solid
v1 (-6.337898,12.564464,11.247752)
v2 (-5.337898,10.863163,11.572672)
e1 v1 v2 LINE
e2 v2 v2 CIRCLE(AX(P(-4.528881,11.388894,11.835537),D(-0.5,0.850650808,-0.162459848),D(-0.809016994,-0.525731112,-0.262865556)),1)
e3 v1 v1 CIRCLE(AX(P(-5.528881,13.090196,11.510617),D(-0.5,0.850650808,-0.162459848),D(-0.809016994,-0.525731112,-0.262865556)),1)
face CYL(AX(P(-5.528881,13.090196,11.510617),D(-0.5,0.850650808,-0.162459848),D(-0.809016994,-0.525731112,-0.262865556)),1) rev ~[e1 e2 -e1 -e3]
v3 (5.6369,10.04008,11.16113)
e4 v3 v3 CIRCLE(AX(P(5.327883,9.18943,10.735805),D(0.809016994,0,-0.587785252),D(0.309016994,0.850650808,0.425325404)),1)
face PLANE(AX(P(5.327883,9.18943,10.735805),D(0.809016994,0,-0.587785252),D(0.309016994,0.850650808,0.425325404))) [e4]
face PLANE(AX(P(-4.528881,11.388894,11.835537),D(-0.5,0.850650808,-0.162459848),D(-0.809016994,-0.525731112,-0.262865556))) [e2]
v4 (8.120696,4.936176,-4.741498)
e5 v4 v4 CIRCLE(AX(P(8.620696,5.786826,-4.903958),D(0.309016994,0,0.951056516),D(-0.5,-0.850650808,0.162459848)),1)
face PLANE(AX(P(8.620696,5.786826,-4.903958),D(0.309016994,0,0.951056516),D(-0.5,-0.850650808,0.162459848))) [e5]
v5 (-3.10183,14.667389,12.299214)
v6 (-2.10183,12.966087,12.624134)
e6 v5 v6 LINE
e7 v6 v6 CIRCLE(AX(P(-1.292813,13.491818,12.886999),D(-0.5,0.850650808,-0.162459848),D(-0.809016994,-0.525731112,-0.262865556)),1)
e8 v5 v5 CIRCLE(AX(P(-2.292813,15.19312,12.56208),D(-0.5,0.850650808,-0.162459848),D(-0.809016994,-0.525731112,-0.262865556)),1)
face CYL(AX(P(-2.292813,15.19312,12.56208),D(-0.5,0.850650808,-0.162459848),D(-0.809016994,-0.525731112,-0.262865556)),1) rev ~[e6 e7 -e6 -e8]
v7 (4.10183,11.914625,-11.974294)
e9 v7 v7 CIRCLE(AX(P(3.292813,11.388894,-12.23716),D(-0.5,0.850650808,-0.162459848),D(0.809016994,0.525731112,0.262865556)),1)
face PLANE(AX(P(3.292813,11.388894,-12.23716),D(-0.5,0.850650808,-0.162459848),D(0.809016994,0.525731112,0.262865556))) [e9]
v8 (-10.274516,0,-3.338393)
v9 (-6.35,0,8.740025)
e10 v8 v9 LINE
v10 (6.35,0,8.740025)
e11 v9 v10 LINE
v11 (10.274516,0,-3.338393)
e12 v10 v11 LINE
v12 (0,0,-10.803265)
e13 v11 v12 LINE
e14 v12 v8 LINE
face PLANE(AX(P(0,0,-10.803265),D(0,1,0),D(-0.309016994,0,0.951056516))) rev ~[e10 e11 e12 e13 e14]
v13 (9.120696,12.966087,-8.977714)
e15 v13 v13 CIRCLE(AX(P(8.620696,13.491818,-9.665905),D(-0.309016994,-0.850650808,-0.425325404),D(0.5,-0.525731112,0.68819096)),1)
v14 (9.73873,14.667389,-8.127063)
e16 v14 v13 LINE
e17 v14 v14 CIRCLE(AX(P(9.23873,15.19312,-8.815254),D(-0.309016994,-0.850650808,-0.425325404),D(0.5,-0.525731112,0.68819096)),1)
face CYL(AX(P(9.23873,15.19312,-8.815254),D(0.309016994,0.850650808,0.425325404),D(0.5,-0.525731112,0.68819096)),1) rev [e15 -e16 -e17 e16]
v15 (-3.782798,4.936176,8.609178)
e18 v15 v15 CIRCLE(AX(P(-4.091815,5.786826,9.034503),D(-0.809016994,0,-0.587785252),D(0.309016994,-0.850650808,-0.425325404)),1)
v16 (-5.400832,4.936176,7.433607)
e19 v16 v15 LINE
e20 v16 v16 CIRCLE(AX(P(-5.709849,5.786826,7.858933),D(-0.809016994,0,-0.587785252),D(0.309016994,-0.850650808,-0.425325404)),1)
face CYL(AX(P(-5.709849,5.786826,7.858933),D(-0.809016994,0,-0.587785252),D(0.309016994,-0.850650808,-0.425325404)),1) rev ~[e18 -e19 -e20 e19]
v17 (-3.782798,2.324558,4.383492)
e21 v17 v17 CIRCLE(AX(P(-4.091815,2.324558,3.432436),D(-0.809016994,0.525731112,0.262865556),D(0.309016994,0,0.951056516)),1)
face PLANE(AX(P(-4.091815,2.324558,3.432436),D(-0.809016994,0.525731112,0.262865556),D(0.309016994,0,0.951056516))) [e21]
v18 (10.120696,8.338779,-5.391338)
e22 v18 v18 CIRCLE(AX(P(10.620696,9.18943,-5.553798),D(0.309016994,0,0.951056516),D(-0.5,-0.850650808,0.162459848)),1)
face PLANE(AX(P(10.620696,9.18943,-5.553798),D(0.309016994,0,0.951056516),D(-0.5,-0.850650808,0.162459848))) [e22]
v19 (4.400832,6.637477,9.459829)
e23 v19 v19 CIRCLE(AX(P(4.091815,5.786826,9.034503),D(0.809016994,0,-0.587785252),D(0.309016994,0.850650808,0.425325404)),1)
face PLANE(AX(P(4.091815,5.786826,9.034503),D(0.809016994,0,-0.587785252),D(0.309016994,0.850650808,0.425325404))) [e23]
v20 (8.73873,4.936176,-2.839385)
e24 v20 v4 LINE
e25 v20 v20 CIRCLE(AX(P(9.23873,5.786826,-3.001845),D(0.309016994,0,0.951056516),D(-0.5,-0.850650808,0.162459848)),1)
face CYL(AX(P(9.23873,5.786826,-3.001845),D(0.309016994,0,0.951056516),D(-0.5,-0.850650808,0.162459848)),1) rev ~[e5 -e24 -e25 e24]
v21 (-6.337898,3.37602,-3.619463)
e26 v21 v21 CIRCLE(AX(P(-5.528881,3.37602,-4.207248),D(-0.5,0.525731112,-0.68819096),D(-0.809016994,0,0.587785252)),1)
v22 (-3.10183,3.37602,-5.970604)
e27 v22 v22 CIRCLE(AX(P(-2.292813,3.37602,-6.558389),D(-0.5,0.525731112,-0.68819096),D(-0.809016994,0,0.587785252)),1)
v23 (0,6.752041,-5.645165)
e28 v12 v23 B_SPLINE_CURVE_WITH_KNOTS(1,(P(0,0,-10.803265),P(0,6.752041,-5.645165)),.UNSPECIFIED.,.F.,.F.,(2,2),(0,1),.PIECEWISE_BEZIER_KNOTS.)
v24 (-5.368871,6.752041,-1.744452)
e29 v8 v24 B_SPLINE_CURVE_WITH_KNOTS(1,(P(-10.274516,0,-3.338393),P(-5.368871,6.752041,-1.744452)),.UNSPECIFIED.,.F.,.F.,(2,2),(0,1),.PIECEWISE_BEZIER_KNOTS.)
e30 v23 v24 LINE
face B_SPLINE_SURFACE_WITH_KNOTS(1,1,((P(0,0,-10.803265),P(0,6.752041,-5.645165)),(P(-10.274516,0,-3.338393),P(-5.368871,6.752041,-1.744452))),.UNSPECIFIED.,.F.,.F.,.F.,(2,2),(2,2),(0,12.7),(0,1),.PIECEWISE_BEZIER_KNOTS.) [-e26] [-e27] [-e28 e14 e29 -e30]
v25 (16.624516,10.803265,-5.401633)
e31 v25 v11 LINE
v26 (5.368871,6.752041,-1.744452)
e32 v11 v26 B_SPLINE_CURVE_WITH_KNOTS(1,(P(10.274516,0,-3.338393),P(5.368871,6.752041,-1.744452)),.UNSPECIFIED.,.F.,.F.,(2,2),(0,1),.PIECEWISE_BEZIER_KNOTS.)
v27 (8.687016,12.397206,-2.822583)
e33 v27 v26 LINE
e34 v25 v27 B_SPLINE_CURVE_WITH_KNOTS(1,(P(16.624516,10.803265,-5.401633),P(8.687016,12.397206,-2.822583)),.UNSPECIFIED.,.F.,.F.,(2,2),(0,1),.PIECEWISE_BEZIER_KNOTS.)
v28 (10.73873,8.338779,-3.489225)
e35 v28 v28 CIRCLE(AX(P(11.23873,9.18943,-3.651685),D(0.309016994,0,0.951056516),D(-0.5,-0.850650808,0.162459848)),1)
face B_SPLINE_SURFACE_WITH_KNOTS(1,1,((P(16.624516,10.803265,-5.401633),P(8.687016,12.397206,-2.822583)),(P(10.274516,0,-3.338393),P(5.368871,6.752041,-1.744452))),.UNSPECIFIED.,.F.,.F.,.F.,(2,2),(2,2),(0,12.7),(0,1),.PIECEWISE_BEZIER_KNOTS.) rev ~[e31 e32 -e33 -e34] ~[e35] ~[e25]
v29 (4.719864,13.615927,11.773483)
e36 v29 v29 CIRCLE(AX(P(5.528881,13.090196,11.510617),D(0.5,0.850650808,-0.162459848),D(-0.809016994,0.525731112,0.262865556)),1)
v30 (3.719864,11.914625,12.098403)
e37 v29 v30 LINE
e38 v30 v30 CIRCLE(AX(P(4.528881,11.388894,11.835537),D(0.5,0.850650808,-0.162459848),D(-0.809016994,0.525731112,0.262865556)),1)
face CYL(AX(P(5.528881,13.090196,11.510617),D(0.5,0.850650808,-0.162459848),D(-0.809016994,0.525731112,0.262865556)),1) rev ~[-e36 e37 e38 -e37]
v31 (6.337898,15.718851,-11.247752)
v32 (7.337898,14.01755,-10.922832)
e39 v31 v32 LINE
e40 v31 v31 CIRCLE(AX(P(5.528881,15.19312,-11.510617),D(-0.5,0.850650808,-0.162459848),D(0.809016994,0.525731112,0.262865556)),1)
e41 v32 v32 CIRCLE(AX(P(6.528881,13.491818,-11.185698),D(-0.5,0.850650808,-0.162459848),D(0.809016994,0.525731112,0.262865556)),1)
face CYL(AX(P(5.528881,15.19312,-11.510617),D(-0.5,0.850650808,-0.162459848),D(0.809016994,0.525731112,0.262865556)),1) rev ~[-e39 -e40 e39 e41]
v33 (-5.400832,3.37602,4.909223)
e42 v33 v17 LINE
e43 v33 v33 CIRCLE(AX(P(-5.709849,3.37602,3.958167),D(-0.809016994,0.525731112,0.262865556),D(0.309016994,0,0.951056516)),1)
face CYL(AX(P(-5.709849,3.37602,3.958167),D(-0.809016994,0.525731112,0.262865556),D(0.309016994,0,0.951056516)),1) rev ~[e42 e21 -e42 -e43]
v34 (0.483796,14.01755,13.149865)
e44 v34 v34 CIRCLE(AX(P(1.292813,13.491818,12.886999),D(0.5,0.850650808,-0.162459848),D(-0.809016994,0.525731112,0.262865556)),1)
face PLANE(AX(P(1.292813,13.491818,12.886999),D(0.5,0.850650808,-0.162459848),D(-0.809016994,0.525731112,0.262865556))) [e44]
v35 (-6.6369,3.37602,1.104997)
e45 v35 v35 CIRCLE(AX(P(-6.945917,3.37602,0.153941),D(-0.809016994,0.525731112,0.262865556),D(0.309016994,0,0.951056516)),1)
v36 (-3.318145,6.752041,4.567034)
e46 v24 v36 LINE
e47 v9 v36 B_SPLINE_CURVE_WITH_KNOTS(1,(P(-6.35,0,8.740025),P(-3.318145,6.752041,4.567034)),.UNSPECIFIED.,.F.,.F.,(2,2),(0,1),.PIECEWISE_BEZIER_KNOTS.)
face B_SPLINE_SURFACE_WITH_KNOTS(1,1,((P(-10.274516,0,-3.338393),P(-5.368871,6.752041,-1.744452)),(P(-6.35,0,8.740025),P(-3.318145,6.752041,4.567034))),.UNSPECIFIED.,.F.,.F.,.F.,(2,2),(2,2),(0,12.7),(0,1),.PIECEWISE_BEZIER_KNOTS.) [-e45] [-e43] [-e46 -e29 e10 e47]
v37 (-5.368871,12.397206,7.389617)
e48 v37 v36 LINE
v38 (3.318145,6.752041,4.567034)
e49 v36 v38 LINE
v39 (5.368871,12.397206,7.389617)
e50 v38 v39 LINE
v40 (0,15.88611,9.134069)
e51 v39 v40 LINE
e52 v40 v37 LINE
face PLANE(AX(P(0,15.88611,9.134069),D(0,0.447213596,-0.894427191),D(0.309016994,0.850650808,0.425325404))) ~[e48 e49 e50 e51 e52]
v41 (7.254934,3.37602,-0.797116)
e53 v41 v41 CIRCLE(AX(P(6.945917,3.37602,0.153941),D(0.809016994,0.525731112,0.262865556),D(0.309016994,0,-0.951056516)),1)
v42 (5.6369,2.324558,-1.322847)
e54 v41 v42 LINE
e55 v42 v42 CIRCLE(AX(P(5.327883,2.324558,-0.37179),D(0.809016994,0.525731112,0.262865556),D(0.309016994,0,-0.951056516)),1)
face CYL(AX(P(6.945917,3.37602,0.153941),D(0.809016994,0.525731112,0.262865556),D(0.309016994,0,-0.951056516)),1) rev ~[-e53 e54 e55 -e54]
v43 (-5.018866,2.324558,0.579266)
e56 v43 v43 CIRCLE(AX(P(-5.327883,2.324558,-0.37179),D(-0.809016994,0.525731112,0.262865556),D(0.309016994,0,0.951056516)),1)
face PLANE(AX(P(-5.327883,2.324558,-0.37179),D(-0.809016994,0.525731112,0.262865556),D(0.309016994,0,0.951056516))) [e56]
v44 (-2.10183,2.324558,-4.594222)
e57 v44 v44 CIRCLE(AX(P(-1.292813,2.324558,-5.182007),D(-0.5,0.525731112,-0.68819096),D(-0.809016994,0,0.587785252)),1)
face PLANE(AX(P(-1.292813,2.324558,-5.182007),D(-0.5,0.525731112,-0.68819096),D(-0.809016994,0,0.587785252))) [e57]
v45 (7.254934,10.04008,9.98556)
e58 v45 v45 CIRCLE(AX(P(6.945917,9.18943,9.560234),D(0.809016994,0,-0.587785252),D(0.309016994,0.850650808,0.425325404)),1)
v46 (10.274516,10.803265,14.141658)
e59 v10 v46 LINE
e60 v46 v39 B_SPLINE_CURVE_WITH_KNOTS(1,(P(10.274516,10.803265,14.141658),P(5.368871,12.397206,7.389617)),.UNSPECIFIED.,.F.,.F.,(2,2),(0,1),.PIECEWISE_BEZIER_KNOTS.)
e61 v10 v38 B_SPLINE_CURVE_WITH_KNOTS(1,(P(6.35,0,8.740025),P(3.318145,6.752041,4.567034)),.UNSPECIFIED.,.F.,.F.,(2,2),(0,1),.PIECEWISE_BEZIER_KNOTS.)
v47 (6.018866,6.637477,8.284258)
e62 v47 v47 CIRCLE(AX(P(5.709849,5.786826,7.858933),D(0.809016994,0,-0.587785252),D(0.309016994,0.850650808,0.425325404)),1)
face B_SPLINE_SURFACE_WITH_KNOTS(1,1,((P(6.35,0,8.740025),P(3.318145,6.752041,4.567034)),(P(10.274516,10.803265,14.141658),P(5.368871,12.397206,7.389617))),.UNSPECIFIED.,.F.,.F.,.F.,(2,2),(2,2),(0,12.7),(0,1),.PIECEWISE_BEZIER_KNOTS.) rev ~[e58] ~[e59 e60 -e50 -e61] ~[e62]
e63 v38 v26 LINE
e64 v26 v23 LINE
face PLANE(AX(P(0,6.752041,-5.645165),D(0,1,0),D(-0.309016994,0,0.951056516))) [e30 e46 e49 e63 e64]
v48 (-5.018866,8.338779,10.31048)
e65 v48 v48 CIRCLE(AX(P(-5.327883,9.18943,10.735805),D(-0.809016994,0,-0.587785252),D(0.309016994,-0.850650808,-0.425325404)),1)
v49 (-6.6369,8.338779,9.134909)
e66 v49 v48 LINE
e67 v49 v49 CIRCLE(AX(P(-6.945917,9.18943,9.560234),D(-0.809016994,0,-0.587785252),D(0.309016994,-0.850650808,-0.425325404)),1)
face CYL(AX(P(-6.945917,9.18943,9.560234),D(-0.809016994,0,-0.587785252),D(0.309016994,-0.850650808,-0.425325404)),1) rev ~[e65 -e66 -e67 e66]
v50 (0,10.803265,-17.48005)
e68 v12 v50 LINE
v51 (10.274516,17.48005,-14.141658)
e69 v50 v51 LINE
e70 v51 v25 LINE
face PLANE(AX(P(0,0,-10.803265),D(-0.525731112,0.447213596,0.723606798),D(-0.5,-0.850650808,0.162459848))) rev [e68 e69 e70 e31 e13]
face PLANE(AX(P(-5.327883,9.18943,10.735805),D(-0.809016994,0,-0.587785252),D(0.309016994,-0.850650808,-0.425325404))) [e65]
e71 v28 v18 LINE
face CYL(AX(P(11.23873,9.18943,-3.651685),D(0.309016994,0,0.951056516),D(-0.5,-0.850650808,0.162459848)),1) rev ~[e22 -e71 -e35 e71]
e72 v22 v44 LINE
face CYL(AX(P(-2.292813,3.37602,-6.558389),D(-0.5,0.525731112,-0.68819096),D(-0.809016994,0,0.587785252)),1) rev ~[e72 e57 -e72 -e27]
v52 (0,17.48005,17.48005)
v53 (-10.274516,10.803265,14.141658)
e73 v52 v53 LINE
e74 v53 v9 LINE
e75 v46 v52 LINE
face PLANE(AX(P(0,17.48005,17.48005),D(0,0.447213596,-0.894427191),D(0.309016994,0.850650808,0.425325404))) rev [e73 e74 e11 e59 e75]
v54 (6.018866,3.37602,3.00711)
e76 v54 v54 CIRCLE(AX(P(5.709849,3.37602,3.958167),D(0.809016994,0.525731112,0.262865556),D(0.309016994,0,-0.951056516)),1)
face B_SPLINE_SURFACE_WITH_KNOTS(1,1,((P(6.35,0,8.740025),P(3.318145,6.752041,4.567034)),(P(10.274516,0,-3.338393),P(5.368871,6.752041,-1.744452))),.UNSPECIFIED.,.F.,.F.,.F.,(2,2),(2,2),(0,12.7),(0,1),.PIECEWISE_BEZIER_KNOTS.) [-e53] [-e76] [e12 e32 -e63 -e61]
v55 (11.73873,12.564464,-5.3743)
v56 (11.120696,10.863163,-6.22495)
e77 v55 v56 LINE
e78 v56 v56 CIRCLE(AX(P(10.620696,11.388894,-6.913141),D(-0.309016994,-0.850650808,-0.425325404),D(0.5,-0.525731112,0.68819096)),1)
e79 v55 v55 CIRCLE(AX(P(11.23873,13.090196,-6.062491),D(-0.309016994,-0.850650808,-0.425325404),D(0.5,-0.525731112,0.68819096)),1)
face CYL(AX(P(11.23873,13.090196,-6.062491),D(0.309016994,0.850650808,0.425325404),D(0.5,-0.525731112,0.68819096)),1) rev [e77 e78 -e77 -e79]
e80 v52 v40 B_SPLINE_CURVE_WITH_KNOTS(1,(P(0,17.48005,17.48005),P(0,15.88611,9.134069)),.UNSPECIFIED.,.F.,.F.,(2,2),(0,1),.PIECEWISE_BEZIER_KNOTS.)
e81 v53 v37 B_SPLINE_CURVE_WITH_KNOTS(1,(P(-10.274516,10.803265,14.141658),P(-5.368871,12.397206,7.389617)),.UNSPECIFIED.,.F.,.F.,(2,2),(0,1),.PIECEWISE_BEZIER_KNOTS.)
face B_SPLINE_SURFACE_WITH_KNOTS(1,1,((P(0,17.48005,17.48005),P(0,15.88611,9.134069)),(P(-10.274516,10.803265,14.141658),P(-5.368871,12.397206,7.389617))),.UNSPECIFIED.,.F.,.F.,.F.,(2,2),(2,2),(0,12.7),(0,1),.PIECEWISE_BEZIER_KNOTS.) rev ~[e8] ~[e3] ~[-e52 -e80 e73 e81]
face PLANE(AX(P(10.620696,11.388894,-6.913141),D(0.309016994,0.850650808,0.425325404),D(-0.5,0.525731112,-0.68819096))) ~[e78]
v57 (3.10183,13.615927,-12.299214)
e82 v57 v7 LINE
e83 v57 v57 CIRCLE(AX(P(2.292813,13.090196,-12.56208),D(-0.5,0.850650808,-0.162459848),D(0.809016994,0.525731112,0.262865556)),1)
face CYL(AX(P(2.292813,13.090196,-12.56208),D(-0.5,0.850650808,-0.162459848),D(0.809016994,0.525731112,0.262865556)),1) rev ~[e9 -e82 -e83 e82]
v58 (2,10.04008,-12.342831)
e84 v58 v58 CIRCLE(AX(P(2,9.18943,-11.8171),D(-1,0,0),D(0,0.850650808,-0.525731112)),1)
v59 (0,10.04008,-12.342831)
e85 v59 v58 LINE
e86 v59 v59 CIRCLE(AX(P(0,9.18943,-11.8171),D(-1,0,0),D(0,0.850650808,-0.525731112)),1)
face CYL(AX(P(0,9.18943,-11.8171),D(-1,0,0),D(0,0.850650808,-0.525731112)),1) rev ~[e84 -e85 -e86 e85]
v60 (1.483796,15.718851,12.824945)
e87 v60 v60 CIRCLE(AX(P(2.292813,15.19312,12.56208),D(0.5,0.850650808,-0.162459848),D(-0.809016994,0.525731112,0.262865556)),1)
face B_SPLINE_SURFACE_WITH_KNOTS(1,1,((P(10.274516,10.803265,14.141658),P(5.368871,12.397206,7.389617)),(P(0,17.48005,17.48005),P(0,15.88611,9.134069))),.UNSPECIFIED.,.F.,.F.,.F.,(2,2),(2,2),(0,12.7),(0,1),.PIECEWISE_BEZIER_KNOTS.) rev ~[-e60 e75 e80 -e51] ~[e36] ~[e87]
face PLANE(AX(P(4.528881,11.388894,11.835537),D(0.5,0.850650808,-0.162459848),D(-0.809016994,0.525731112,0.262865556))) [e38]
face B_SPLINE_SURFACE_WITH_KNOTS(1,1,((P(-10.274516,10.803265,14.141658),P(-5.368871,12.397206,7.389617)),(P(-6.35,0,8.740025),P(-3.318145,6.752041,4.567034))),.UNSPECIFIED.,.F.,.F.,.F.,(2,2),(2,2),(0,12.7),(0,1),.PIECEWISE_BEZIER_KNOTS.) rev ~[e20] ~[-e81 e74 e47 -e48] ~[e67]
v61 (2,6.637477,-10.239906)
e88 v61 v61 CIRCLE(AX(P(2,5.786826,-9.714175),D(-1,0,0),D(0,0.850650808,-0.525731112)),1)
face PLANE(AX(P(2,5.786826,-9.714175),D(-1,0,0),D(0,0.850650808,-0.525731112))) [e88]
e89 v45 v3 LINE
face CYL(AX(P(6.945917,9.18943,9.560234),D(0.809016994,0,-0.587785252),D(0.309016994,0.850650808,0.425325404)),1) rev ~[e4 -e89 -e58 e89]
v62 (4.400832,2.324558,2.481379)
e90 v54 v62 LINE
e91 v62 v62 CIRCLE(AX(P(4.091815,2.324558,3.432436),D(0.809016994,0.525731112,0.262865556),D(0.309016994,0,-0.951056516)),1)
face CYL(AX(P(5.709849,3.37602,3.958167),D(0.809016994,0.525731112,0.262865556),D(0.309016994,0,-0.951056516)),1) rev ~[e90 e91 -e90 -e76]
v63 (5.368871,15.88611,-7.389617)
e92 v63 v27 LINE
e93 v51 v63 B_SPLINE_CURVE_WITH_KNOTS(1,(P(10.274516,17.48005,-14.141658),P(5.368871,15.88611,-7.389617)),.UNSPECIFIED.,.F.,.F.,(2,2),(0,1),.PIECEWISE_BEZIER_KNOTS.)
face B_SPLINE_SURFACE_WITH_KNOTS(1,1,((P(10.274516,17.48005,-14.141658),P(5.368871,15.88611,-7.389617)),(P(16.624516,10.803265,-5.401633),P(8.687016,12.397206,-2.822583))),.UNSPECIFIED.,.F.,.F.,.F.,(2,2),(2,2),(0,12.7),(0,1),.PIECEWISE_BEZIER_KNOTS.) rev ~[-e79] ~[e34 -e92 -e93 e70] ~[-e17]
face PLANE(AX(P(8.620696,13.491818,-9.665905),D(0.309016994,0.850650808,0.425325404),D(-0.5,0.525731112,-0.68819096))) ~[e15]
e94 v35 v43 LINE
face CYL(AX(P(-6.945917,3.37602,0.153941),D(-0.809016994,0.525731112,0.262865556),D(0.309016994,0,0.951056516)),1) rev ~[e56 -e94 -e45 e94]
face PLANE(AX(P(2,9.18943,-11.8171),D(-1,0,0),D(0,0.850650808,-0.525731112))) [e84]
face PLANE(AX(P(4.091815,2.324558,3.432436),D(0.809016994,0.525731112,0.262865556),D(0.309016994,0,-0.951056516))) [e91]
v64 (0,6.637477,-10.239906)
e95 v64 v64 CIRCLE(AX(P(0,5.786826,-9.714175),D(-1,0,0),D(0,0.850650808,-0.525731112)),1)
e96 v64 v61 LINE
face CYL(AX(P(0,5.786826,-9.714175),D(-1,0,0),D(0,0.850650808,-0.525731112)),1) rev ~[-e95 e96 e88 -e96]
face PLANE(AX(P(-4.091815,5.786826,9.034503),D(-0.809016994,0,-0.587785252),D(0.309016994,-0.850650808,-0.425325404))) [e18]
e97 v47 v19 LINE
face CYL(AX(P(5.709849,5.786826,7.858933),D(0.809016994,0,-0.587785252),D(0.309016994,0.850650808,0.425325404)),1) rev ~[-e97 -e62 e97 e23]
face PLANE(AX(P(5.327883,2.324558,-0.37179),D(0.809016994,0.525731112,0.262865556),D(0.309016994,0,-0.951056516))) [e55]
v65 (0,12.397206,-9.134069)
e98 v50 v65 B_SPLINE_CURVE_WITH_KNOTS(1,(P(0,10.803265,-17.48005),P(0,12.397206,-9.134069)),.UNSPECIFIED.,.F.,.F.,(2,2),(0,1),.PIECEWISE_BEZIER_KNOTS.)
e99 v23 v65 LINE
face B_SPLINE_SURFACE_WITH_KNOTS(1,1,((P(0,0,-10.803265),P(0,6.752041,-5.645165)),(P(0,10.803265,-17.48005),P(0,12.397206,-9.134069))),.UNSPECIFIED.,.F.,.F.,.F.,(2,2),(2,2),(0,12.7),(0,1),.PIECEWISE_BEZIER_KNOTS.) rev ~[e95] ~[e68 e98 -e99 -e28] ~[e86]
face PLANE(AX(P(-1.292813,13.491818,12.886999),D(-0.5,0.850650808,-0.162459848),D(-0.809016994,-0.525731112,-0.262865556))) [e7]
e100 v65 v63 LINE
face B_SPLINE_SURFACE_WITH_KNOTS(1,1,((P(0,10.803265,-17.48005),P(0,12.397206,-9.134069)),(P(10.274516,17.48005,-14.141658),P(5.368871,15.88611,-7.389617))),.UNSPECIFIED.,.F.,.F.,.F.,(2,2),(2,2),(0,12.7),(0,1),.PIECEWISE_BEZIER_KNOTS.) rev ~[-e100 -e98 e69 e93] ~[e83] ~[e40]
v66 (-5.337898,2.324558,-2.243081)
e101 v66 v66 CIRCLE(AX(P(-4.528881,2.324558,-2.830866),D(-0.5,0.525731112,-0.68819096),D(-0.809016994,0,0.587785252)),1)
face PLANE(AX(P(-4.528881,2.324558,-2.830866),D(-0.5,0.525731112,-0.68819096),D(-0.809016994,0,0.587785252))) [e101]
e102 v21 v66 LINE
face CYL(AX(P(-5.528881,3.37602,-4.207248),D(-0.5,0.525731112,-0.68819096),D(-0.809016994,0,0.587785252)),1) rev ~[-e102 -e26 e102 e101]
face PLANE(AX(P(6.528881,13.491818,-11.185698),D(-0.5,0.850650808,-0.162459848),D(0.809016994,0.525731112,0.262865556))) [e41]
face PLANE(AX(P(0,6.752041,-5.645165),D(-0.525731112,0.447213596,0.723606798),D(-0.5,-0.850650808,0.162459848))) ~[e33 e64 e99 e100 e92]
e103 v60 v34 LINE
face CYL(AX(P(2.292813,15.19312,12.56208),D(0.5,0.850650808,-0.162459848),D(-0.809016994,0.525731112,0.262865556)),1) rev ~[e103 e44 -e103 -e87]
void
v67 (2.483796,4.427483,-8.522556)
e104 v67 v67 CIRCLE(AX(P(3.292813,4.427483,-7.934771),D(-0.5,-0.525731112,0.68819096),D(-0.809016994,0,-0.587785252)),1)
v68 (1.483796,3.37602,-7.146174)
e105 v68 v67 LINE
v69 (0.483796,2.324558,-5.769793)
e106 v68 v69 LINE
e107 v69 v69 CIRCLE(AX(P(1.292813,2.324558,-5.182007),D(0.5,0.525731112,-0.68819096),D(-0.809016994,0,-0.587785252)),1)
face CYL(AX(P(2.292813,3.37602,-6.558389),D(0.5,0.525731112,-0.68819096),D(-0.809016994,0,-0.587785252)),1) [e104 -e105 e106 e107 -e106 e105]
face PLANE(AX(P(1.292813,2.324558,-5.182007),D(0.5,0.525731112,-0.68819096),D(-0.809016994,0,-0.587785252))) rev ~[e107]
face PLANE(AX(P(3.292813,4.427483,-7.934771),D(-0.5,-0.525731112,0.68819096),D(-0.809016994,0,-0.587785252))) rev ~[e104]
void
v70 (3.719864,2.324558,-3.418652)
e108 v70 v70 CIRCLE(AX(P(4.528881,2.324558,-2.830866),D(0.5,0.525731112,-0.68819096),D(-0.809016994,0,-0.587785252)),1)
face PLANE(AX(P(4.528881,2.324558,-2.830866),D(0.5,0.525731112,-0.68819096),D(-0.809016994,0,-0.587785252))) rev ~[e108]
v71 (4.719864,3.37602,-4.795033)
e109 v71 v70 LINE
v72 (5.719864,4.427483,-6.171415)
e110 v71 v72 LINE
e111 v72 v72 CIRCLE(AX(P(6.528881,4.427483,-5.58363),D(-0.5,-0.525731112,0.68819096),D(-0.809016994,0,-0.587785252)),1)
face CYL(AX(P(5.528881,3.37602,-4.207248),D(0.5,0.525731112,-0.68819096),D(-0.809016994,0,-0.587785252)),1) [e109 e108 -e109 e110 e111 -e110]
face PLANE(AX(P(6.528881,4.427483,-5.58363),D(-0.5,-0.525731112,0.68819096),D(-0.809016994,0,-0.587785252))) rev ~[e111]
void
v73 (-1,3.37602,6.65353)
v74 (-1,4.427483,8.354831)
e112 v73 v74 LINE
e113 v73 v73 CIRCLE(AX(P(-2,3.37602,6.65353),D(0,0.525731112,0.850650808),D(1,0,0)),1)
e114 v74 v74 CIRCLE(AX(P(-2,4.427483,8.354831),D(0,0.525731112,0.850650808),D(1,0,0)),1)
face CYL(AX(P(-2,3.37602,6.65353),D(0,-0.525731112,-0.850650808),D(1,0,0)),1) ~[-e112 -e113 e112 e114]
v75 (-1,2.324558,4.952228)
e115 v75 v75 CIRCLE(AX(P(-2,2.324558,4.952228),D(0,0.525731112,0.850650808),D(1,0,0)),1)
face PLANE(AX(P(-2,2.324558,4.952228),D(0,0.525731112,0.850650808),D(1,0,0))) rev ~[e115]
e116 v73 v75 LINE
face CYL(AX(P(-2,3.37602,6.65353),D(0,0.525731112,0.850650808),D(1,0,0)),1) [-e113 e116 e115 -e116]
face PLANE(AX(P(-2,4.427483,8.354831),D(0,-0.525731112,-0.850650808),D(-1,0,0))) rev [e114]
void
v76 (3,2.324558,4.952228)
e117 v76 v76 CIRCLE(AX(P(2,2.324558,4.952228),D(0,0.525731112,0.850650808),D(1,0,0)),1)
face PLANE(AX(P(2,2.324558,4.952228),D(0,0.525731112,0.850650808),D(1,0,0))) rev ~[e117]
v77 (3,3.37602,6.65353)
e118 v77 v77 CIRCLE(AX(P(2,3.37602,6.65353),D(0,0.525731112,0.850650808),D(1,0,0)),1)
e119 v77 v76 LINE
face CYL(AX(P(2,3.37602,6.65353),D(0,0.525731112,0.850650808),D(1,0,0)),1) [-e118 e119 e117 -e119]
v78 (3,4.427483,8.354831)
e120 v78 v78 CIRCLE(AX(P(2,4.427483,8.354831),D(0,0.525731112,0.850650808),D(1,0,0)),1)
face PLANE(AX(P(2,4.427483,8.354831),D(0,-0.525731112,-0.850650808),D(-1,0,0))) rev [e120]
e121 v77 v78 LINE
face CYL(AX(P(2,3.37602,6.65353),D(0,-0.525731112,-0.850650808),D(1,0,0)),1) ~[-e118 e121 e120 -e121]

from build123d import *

# Parameters (mm, degrees)
BOSS_EXTRUDE1_DEPTH     = 6.752040791
BOSS_EXTRUDE1_TAPER     = 31.717474411
SKETCH3_R               = 1
CUT_EXTRUDE1_DEPTH      = 2
CIRPATTERN1_COUNT       = 5
MIRROR3_COPY_1_SKETCH_R = 1
MIRROR3_COPY_1_DEPTH    = 2
MIRROR3_COPY_2_SKETCH_R = 1
MIRROR3_COPY_2_DEPTH    = 2
MIRROR3_COPY_3_SKETCH_R = 1
MIRROR3_COPY_3_DEPTH    = 2
MIRROR3_COPY_4_SKETCH_R = 1
MIRROR3_COPY_4_DEPTH    = 2
MIRROR5_COPY_1_SKETCH_R = 1
MIRROR5_COPY_1_DEPTH    = 2
MIRROR5_COPY_2_SKETCH_R = 1
MIRROR5_COPY_2_DEPTH    = 2
MIRROR5_COPY_3_SKETCH_R = 1
MIRROR5_COPY_3_DEPTH    = 2
MIRROR5_COPY_4_SKETCH_R = 1
MIRROR5_COPY_4_DEPTH    = 2


with BuildPart() as part:
    # Sketch1 → Boss-Extrude1 (new body)
    with BuildSketch(Plane(origin=(0, 0, 0), x_dir=(1, 0, 0), z_dir=(0, 1, 0))):
        Polygon((0, 10.803265266), (-10.274515829, 3.338392562), (-6.35, -8.740025195), (6.35, -8.740025195), (10.274515829, 3.338392562), align=None)
    boss_extrude1 = extrude(amount=BOSS_EXTRUDE1_DEPTH, taper=BOSS_EXTRUDE1_TAPER)

    # Sketch3 → Cut-Extrude1 (cut)
    with BuildSketch(Plane(origin=(0, 3.908658092, 6.324341644), x_dir=(1, 0, 0), z_dir=(1.6266940928737823e-15, 0.5257311121191348, 0.8506508083520392))):
        with Locations((-2, -0.626153166)):
            Circle(SKETCH3_R)
        with Locations((2, -0.626153166)):
            Circle(SKETCH3_R)
    cut_extrude1 = extrude(amount=-CUT_EXTRUDE1_DEPTH, mode=Mode.SUBTRACT)

    # CirPattern1: Cut-Extrude1 ×5 about axis
    cirpattern1_axis = Axis((0, 14.848740719, 0), (0, -1, 0))
    for i in range(1, CIRPATTERN1_COUNT):
        add(cut_extrude1.rotate(cirpattern1_axis, i * 360 / CIRPATTERN1_COUNT), mode=Mode.SUBTRACT)

    # Mirror3: Boss-Extrude1, Cut-Extrude1 across plane
    add(boss_extrude1.mirror(Plane(origin=(-6.35, 0, 8.740025195), x_dir=(-2.6320463315684497e-15, -0.8506508083520393, 0.5257311121191345), z_dir=(1.6266940928737817e-15, 0.5257311121191347, 0.8506508083520393))))
    add(cut_extrude1.mirror(Plane(origin=(-6.35, 0, 8.740025195), x_dir=(-2.6320463315684497e-15, -0.8506508083520393, 0.5257311121191345), z_dir=(1.6266940928737817e-15, 0.5257311121191347, 0.8506508083520393))), mode=Mode.SUBTRACT)

    # Mirror3 copy 1 sketch → Mirror3 copy 1 (cut)
    with BuildSketch(Plane(origin=(-6.014806331, 7.817316184, 8.27867069), x_dir=(0.3090169943749462, -0.8506508083520415, -0.4253254041760179), z_dir=(-0.8090169943749479, 0, -0.5877852522924727))):
        with Locations((-2, 0.626153166)):
            Circle(MIRROR3_COPY_1_SKETCH_R)
        with Locations((2, 0.626153166)):
            Circle(MIRROR3_COPY_1_SKETCH_R)
    extrude(amount=-MIRROR3_COPY_1_DEPTH, mode=Mode.SUBTRACT)

    # Mirror3 copy 2 sketch → Mirror3 copy 2 (cut)
    with BuildSketch(Plane(origin=(-3.717354749, 14.141657828, 11.440841512), x_dir=(-0.8090169943749482, -0.5257311121191344, -0.26286555605956313), z_dir=(-0.5, 0.8506508083520394, -0.1624598481164556))):
        with Locations((-2, 0.626153166)):
            Circle(MIRROR3_COPY_2_SKETCH_R)
        with Locations((2, 0.626153166)):
            Circle(MIRROR3_COPY_2_SKETCH_R)
    extrude(amount=-MIRROR3_COPY_2_DEPTH, mode=Mode.SUBTRACT)

    # Mirror3 copy 3 sketch → Mirror3 copy 3 (cut)
    with BuildSketch(Plane(origin=(3.717354749, 14.141657828, 11.440841512), x_dir=(-0.8090169943749467, 0.5257311121191343, 0.262865556059568), z_dir=(0.4999999999999991, 0.8506508083520395, -0.16245984811645744))):
        with Locations((-2, 0.626153166)):
            Circle(MIRROR3_COPY_3_SKETCH_R)
        with Locations((2, 0.626153166)):
            Circle(MIRROR3_COPY_3_SKETCH_R)
    extrude(amount=-MIRROR3_COPY_3_DEPTH, mode=Mode.SUBTRACT)

    # Mirror3 copy 4 sketch → Mirror3 copy 4 (cut)
    with BuildSketch(Plane(origin=(6.014806331, 7.817316184, 8.27867069), x_dir=(0.3090169943749485, 0.8506508083520405, 0.42532540417601816), z_dir=(0.8090169943749456, 0, -0.5877852522924757))):
        with Locations((-2, 0.626153166)):
            Circle(MIRROR3_COPY_4_SKETCH_R)
        with Locations((2, 0.626153166)):
            Circle(MIRROR3_COPY_4_SKETCH_R)
    extrude(amount=-MIRROR3_COPY_4_DEPTH, mode=Mode.SUBTRACT)

    # Mirror5: Boss-Extrude1, Cut-Extrude1 across plane
    add(boss_extrude1.mirror(Plane(origin=(10.274515829, 0, -3.338392562), x_dir=(0.4742680099309791, 0.49867489660708614, 0.7255296012224591), z_dir=(0.4999999999999987, 0.5257311121191346, -0.688190960235587))))
    add(cut_extrude1.mirror(Plane(origin=(10.274515829, 0, -3.338392562), x_dir=(0.4742680099309791, 0.49867489660708614, 0.7255296012224591), z_dir=(0.4999999999999987, 0.5257311121191346, -0.688190960235587))), mode=Mode.SUBTRACT)

    # Mirror5 copy 1 sketch → Mirror5 copy 1 (cut)
    with BuildSketch(Plane(origin=(3.717354749, 14.141657828, -11.440841512), x_dir=(0.8090169943749475, 0.5257311121191339, 0.26286555605956596), z_dir=(-0.5000000000000014, 0.8506508083520399, -0.16245984811644945))):
        with Locations((-2, 0.626153166)):
            Circle(MIRROR5_COPY_1_SKETCH_R)
        with Locations((2, 0.626153166)):
            Circle(MIRROR5_COPY_1_SKETCH_R)
    extrude(amount=-MIRROR5_COPY_1_DEPTH, mode=Mode.SUBTRACT)

    # Mirror5 copy 2 sketch → Mirror5 copy 2 (cut)
    with BuildSketch(Plane(origin=(0, 7.817316184, -10.232999736), x_dir=(-1.2043746199203667e-15, 0.8506508083520407, -0.5257311121191327), z_dir=(-1, 0, 0))):
        with Locations((-2, 0.626153166)):
            Circle(MIRROR5_COPY_2_SKETCH_R)
        with Locations((2, 0.626153166)):
            Circle(MIRROR5_COPY_2_SKETCH_R)
    extrude(amount=-MIRROR5_COPY_2_DEPTH, mode=Mode.SUBTRACT)

    # Mirror5 copy 3 sketch → Mirror5 copy 3 (cut)
    with BuildSketch(Plane(origin=(3.717354749, 3.908658092, -5.116499868), x_dir=(-0.8090169943749478, 0, -0.5877852522924727), z_dir=(-0.4999999999999993, -0.5257311121191345, 0.6881909602355869))):
        with Locations((-2, 0.626153166)):
            Circle(MIRROR5_COPY_3_SKETCH_R)
        with Locations((2, 0.626153166)):
            Circle(MIRROR5_COPY_3_SKETCH_R)
    extrude(amount=-MIRROR5_COPY_3_DEPTH, mode=Mode.SUBTRACT)

    # Mirror5 copy 4 sketch → Mirror5 copy 4 (cut)
    with BuildSketch(Plane(origin=(9.73216108, 7.817316184, -3.162170822), x_dir=(-0.4999999999999984, -0.8506508083520413, 0.1624598481164517), z_dir=(0.3090169943749473, -1.1894596157351711e-15, 0.9510565162951536))):
        with Locations((-2, 0.626153166)):
            Circle(MIRROR5_COPY_4_SKETCH_R)
        with Locations((2, 0.626153166)):
            Circle(MIRROR5_COPY_4_SKETCH_R)
    extrude(amount=-MIRROR5_COPY_4_DEPTH, mode=Mode.SUBTRACT)


solid = part.part
